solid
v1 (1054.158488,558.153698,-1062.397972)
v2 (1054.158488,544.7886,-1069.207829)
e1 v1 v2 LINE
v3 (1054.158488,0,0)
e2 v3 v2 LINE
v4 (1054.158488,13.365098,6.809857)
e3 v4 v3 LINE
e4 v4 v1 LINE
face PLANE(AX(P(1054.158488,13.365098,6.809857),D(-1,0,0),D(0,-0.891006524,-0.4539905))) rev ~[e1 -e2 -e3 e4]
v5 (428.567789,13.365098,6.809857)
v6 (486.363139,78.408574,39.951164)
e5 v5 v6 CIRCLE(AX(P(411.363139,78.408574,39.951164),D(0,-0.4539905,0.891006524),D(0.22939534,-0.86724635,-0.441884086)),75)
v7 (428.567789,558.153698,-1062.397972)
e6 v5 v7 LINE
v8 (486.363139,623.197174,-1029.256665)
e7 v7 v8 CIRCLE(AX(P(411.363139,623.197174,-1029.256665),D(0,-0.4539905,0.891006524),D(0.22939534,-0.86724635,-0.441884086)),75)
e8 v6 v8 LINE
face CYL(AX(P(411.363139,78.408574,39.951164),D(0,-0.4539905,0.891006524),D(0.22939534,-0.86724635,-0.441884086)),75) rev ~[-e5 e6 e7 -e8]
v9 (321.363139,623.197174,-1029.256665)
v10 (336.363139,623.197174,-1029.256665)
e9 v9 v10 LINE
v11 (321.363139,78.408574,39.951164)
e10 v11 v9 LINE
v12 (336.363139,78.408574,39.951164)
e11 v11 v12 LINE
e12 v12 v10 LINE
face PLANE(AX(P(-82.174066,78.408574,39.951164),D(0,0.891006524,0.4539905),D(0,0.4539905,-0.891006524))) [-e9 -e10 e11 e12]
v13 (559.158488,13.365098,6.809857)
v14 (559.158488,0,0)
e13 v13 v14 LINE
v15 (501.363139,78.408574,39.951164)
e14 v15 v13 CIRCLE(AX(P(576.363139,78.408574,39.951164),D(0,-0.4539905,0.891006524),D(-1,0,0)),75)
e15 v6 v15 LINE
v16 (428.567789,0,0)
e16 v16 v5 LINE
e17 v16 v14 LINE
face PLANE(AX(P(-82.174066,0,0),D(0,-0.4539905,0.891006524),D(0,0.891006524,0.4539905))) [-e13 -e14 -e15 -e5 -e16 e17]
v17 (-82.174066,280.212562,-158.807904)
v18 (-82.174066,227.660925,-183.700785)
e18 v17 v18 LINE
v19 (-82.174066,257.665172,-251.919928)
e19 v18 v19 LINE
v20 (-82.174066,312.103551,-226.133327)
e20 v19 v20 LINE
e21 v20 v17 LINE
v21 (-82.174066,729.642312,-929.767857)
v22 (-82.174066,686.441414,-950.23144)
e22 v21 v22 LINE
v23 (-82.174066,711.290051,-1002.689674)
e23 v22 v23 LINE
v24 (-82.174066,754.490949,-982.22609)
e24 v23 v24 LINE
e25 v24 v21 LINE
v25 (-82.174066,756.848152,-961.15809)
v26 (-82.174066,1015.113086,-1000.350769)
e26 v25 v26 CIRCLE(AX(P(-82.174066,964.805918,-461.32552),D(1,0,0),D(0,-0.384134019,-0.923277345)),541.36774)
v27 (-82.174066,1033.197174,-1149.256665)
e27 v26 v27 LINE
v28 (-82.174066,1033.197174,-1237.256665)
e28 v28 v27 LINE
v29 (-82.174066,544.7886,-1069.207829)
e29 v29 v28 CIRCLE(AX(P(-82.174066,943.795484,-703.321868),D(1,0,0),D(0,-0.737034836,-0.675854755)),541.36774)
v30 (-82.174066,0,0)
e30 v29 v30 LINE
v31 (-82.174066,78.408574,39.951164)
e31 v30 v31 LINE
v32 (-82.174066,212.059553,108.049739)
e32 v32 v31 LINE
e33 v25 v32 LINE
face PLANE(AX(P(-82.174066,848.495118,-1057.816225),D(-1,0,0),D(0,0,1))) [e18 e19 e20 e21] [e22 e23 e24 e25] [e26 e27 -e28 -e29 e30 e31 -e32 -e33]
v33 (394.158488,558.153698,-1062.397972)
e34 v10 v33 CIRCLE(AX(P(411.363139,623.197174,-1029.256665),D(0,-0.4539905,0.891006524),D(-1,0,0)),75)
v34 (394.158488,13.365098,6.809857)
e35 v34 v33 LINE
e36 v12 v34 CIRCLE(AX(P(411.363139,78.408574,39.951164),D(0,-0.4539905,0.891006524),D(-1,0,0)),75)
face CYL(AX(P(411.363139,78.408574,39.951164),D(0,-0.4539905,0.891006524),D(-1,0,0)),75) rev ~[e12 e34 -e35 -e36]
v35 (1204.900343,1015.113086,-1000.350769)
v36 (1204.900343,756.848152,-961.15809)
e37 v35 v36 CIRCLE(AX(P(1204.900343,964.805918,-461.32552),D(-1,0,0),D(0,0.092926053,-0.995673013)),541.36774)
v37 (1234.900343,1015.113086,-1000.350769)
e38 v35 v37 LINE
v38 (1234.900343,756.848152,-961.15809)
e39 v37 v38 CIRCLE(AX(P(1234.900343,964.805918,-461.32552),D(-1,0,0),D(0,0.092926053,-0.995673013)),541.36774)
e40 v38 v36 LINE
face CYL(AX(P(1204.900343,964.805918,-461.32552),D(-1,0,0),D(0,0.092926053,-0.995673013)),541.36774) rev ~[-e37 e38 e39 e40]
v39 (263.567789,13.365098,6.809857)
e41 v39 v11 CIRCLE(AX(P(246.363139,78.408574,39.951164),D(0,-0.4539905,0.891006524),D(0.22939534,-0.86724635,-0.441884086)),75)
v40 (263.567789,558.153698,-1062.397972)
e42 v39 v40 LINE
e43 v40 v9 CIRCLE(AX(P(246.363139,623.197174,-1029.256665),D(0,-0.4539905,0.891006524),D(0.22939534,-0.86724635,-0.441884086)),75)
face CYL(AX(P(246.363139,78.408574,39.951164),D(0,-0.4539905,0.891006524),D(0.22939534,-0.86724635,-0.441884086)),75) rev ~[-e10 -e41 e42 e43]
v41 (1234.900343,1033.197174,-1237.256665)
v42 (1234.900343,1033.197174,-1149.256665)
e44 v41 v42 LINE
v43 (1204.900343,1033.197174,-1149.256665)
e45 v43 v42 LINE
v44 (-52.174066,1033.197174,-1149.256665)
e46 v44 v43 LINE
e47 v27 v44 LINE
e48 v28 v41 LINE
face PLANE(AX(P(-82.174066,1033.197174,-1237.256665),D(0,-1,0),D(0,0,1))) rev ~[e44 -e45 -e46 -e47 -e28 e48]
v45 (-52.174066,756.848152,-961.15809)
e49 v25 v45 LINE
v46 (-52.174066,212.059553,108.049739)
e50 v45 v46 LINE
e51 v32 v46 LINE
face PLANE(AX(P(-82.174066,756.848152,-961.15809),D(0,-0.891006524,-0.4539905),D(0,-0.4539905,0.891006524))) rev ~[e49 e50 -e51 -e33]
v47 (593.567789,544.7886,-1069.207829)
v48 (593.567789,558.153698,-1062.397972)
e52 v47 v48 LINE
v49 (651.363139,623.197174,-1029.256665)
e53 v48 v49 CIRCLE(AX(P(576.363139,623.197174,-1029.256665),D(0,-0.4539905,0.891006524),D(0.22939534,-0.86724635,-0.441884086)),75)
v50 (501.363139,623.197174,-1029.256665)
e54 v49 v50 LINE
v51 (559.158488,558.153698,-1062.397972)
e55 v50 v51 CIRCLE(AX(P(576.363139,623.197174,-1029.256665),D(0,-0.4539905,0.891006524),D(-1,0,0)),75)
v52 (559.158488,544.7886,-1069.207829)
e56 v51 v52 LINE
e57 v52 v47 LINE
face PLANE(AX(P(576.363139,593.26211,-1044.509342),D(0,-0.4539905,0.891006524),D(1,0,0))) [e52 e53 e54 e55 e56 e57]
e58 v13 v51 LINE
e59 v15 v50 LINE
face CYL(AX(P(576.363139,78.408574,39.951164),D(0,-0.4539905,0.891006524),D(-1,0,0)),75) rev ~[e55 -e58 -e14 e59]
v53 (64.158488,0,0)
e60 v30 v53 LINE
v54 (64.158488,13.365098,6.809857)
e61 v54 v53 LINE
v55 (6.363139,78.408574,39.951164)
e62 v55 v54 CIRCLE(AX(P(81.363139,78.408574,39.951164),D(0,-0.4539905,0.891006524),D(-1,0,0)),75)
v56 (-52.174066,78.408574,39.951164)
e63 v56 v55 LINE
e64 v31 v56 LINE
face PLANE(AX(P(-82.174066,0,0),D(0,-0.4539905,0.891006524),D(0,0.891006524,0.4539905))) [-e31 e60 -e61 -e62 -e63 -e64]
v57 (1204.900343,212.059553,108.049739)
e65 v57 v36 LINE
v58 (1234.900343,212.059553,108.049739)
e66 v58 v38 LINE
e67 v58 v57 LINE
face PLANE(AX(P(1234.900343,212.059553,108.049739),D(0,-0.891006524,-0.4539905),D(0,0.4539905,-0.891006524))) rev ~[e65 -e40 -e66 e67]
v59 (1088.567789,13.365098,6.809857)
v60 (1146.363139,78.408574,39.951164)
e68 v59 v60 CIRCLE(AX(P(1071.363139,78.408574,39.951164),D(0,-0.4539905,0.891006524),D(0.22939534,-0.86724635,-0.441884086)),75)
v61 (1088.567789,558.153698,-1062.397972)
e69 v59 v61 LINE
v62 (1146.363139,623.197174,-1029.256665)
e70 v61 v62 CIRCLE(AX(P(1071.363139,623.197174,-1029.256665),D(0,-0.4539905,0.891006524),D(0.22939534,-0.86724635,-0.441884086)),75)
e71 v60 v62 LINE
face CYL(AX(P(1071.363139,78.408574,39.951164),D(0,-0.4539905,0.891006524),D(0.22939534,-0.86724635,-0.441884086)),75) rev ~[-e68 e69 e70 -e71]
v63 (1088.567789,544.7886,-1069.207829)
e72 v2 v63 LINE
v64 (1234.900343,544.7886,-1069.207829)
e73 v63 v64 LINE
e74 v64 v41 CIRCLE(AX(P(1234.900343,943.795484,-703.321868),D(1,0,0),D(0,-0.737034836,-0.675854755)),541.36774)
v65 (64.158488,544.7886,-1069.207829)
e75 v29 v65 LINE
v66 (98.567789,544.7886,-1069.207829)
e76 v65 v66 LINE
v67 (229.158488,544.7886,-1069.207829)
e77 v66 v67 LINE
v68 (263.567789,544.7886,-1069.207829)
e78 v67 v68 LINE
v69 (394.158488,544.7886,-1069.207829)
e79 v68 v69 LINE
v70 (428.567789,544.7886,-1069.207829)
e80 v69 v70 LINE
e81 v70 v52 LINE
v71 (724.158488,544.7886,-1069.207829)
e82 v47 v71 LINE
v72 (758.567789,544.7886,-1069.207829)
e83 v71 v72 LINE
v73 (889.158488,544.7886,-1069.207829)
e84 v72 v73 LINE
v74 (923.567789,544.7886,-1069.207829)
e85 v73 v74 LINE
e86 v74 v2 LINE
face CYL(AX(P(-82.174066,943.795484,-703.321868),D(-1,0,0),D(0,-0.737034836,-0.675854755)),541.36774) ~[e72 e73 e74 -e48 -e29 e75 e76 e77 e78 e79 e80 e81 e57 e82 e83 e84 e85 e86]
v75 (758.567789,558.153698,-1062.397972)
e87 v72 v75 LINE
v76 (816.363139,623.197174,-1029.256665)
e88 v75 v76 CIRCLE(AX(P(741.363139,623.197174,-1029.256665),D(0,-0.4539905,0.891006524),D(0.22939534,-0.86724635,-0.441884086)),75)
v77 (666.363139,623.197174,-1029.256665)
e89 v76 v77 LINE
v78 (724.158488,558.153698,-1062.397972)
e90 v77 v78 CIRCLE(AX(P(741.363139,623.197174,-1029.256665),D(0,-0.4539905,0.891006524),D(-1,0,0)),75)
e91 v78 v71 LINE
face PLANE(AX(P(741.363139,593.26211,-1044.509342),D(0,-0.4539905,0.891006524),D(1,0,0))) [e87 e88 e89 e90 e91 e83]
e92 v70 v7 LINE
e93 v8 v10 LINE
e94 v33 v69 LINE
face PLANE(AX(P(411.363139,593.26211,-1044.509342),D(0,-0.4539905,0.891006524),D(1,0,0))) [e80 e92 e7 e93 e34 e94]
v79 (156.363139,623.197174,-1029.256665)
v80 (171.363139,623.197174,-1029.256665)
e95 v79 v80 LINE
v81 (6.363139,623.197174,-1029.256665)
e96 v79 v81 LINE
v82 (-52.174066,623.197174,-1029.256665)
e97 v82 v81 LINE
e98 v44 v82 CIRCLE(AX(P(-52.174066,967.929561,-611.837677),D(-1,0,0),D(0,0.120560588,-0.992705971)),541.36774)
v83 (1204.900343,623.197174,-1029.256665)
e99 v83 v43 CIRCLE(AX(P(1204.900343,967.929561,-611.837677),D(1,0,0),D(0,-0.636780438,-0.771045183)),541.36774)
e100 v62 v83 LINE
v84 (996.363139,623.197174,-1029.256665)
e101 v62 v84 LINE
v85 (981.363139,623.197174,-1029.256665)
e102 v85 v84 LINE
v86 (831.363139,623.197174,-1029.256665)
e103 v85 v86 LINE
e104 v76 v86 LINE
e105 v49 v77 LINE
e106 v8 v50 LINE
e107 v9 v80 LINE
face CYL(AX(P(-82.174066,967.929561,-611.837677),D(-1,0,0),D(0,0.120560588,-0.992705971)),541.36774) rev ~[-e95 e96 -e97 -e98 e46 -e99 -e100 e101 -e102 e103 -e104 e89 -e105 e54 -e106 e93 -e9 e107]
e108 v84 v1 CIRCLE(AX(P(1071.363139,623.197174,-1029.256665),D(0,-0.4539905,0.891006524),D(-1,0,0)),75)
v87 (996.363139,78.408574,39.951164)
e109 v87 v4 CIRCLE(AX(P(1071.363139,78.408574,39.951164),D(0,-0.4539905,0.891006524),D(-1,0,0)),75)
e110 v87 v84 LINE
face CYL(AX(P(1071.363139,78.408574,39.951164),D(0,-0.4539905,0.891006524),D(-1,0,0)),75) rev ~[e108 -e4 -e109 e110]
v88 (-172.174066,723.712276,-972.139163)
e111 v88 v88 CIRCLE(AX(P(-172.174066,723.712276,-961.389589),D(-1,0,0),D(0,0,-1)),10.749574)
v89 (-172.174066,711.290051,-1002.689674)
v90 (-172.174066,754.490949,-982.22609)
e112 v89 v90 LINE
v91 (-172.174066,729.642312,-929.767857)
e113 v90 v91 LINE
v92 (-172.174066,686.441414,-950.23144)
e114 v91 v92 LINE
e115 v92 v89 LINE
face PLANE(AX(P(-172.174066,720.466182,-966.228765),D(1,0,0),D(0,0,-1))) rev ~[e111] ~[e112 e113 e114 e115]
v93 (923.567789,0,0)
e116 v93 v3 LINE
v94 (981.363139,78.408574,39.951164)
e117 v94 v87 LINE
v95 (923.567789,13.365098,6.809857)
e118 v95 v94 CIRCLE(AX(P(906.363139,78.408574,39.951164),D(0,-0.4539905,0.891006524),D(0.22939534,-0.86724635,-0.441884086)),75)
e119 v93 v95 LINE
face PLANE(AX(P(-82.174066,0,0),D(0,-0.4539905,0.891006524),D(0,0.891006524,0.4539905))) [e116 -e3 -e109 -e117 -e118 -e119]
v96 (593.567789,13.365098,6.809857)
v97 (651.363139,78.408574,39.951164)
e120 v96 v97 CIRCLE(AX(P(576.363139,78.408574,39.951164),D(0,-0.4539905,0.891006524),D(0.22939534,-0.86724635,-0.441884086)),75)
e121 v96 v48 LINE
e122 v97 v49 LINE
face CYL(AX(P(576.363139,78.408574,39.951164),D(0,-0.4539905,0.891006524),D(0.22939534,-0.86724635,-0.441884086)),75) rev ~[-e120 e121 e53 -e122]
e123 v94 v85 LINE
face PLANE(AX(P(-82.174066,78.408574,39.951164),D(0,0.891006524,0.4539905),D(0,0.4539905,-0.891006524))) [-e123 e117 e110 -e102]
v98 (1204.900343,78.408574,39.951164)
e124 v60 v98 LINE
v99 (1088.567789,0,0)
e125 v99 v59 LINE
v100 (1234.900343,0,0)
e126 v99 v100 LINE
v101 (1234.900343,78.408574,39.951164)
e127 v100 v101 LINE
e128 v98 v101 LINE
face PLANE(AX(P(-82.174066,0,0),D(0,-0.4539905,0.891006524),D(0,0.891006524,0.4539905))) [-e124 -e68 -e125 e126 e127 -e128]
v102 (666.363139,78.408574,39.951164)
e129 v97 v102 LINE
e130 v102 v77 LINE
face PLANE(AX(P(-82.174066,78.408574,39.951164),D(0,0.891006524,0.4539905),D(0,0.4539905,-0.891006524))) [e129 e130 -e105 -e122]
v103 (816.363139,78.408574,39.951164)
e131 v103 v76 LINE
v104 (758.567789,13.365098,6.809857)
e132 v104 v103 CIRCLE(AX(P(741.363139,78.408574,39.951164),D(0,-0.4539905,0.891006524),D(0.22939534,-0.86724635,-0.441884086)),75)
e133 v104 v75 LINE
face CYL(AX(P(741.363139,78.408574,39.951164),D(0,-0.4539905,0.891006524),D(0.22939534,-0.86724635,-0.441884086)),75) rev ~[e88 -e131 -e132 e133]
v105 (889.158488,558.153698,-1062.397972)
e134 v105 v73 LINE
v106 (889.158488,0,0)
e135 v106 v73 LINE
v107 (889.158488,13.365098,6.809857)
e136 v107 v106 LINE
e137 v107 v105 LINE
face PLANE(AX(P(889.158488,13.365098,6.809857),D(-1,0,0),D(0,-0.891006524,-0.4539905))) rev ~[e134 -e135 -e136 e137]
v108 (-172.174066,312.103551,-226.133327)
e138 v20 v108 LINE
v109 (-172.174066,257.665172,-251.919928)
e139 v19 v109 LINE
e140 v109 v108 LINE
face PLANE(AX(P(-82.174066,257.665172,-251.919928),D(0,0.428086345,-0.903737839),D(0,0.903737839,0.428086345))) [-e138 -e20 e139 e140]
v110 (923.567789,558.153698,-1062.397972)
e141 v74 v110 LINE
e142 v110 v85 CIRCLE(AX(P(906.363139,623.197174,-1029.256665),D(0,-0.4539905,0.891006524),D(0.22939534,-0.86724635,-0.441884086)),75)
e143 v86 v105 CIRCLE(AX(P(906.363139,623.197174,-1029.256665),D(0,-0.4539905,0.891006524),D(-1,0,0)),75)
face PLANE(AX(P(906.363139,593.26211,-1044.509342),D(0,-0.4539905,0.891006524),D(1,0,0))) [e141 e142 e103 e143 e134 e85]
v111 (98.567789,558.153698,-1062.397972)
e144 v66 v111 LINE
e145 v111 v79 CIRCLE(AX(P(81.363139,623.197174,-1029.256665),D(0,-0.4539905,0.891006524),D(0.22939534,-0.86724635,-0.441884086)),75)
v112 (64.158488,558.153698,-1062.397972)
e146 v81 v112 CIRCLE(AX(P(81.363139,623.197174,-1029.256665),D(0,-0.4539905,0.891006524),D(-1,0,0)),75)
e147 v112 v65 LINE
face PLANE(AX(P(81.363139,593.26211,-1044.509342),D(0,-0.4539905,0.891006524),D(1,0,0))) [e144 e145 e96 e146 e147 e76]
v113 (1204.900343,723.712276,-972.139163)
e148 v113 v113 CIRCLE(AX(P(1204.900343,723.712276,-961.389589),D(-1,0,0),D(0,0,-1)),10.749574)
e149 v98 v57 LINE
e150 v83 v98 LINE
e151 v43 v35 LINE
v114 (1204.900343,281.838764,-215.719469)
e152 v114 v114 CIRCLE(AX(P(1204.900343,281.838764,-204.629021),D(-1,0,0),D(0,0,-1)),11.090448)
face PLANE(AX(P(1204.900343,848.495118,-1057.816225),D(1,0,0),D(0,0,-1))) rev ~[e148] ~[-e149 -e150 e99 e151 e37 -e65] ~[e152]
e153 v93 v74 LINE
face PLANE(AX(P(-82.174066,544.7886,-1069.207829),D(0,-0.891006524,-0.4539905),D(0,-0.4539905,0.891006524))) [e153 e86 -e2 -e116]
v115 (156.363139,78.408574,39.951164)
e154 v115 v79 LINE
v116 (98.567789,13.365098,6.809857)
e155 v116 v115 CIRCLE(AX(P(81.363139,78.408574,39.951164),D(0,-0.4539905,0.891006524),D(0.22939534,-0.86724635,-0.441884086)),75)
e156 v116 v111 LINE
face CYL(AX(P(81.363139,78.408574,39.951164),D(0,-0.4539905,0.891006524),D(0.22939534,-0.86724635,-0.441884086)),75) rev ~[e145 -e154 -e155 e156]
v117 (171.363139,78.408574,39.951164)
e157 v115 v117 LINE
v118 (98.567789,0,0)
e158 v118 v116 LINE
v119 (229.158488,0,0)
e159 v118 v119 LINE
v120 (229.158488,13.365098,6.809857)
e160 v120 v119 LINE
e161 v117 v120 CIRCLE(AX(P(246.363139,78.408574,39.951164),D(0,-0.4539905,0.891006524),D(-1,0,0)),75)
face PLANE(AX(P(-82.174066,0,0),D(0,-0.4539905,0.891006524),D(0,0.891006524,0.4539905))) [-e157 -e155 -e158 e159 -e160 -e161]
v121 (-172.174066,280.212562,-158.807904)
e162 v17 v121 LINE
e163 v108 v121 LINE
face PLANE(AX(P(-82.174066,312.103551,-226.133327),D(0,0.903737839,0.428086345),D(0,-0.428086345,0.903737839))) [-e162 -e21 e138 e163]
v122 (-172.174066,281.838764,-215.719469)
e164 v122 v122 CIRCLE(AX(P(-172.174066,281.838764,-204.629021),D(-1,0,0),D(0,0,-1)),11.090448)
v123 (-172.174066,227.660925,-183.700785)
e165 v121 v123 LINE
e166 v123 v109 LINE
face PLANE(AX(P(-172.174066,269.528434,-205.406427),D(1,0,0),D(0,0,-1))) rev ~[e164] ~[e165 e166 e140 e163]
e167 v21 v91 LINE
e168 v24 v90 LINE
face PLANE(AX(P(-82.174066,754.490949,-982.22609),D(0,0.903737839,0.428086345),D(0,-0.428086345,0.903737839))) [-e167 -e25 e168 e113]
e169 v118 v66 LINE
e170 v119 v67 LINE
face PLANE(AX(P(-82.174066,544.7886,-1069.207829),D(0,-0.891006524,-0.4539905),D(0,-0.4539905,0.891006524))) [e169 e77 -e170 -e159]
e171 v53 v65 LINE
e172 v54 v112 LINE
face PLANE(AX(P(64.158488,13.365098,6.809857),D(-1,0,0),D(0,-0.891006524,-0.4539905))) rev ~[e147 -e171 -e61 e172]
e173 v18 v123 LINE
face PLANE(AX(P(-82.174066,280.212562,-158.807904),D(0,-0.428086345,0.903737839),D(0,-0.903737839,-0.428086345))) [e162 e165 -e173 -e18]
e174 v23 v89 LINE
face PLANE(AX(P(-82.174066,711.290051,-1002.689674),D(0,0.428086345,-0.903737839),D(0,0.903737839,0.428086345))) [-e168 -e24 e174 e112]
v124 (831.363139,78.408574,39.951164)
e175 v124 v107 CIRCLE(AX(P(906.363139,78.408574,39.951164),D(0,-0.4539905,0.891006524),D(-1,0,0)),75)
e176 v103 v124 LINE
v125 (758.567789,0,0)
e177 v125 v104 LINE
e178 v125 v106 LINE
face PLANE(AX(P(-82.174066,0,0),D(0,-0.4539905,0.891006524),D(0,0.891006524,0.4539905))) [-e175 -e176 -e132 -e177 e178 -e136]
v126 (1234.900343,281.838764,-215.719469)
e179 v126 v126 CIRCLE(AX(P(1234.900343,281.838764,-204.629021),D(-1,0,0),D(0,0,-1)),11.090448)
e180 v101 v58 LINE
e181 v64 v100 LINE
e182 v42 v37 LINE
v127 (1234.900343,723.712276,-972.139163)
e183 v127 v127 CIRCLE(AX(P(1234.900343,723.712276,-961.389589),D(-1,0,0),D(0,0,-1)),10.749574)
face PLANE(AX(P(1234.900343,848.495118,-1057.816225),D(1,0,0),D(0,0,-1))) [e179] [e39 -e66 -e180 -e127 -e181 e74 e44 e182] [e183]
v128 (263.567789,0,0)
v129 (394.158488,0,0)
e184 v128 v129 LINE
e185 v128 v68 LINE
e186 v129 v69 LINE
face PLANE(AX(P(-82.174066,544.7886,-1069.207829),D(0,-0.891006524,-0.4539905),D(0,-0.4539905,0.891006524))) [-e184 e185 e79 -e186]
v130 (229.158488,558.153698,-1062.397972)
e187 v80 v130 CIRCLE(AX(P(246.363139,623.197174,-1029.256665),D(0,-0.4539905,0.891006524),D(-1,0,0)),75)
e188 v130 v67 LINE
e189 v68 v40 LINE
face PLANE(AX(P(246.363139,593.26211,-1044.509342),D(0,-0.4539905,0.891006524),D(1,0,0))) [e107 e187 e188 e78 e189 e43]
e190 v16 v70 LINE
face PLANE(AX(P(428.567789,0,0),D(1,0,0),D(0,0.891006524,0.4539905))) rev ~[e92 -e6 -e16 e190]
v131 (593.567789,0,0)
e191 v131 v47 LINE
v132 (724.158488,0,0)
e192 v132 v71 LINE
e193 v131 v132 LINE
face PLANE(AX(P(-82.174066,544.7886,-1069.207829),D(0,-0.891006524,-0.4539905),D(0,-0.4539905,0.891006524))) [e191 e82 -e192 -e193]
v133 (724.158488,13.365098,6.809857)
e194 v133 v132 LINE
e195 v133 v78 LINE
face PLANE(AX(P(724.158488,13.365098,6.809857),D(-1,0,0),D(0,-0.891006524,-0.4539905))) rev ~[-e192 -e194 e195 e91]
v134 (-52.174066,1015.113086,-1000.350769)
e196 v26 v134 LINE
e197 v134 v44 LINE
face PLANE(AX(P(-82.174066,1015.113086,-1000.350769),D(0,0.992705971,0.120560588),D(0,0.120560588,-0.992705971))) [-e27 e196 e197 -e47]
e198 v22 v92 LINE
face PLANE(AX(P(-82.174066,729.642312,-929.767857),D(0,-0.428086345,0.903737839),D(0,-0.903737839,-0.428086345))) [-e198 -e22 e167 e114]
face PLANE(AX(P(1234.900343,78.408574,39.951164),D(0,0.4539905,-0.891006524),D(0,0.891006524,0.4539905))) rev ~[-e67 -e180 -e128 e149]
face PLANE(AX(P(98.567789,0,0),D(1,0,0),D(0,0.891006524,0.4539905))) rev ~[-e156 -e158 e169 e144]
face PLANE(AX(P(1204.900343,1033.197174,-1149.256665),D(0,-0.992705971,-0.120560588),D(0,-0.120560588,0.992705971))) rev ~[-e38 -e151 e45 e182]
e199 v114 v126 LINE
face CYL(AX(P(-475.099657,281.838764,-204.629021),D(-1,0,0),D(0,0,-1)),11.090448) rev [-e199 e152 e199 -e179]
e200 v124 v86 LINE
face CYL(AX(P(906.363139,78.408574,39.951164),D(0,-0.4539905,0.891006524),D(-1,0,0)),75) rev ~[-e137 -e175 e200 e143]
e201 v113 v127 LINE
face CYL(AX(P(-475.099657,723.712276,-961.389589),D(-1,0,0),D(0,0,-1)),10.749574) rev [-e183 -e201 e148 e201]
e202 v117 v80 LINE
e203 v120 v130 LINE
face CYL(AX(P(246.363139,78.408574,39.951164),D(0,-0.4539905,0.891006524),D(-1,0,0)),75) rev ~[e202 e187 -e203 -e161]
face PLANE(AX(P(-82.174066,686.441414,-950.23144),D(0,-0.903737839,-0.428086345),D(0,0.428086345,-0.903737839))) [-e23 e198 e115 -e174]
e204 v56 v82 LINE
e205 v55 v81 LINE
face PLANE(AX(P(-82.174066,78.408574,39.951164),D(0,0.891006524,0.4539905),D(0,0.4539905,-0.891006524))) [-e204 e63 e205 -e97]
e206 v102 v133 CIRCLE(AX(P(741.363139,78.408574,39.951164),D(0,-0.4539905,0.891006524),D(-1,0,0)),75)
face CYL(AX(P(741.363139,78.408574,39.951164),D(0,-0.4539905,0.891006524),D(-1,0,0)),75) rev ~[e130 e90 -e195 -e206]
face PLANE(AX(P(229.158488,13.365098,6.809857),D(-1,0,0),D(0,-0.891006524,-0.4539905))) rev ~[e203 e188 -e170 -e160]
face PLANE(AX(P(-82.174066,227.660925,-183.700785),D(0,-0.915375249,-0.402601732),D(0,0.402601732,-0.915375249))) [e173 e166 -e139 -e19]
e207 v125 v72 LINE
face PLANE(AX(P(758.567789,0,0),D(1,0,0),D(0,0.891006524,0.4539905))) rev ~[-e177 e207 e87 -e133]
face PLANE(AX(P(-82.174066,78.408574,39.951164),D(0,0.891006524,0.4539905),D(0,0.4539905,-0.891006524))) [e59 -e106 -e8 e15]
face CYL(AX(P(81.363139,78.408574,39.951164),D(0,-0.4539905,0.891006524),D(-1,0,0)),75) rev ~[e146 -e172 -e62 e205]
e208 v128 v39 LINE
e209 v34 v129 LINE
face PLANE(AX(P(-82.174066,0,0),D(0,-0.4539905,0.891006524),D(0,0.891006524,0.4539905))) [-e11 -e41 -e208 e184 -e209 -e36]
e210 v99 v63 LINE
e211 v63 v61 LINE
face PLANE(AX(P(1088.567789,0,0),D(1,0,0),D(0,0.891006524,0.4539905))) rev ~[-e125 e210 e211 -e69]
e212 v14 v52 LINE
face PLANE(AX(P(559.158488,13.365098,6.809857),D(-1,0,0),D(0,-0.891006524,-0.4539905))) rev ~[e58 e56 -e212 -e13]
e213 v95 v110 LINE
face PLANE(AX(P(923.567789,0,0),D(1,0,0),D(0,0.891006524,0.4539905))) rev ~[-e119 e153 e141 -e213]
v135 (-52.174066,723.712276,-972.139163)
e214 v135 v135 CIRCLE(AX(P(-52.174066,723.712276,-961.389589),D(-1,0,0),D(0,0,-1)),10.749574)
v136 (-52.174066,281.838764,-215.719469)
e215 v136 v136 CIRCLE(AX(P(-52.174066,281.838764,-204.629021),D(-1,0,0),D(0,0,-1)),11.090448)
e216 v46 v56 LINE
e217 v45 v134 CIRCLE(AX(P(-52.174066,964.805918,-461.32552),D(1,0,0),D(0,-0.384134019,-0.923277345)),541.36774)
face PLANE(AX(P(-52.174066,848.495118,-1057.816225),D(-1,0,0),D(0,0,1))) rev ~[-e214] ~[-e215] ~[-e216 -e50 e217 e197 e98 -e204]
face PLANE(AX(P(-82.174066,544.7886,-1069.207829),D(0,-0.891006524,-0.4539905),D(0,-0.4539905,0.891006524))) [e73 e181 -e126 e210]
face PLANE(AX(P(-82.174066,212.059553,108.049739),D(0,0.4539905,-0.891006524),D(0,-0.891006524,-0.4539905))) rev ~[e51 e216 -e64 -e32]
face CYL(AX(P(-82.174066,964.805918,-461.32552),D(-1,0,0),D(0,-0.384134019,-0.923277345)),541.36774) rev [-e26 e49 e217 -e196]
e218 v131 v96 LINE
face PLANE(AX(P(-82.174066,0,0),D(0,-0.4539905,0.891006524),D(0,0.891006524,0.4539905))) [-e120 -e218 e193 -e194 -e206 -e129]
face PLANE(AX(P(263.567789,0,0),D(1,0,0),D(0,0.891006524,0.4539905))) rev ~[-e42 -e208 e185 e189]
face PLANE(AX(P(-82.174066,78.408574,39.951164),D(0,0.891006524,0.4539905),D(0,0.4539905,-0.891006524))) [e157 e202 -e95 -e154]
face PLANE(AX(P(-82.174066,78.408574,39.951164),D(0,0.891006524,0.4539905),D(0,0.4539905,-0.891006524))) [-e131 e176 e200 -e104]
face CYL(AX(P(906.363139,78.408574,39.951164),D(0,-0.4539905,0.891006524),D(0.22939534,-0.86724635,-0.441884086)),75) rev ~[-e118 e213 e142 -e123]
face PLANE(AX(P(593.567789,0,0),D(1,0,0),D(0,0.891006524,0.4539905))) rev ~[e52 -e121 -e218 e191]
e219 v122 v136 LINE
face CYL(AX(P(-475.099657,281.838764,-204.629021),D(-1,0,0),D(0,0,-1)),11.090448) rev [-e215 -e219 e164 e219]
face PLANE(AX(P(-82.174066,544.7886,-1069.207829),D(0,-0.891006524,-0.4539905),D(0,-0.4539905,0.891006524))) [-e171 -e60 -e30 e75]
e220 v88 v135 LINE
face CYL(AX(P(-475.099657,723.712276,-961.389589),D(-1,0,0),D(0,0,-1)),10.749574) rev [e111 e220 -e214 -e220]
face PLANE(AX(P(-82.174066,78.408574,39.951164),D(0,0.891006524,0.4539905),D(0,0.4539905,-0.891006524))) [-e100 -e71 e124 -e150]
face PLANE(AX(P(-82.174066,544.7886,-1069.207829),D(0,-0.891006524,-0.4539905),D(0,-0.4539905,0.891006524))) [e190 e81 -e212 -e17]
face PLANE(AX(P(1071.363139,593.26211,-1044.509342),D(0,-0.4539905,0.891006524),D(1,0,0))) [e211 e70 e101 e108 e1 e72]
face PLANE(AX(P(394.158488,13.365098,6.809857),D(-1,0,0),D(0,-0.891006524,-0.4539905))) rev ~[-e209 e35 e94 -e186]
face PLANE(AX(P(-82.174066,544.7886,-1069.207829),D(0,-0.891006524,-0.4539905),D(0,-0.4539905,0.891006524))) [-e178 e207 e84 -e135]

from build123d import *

# Parameters (mm, degrees)
BOSS_EXTRUDE1_DEPTH      = 1234.900343145
BOSS_EXTRUDE1_DEPTH_BACK = 82.174065831
CUT_EXTRUDE1_DEPTH       = 1200
BOSS_EXTRUDE2_DEPTH      = 30
BOSS_EXTRUDE3_DEPTH      = 30
BOSS_EXTRUDE4_START      = -30
BOSS_EXTRUDE4_DEPTH      = 30
BOSS_EXTRUDE5_DEPTH      = 30
BOSS_EXTRUDE6_DEPTH      = 90
CUT_EXTRUDE2_DEPTH       = 1710
CUT_EXTRUDE2_DEPTH_BACK  = 1710
SKETCH12_R               = 11.090448241
SKETCH12_R_2             = 10.749574141


with BuildPart() as part:
    # Sketch1 → Boss-Extrude1 (new, two sides: drawn at the far end of the back side and taken through both)
    with BuildSketch(Plane(origin=(0, 0, 0), x_dir=(0, 0, -1), z_dir=(1, 0, 0)).offset(-BOSS_EXTRUDE1_DEPTH_BACK)):
        with BuildLine():
            Line((-39.951163977, 78.408574129), (0, 0))
            Line((0, 0), (1069.207829026, 544.788599687))
            ThreePointArc((1069.207829026, 544.788599687), (1215.235027559, 767.659323729), (1237.256665049, 1033.197173816))
            Line((1237.256665049, 1033.197173816), (1149.256665049, 1033.197173816))
            ThreePointArc((1149.256665049, 1033.197173816), (1131.408548141, 815.860037301), (1029.256665049, 623.197173816))
            Line((1029.256665049, 623.197173816), (-39.951163977, 78.408574129))
        make_face()
    extrude(amount=BOSS_EXTRUDE1_DEPTH + BOSS_EXTRUDE1_DEPTH_BACK)

    # Sketch2 → Cut-Extrude1 (cut)
    with BuildSketch(Plane(origin=(0, 0, 0), x_dir=(1, 0, 0), z_dir=(0, -0.45399049973954786, 0.8910065241883673))):
        with BuildLine():
            Line((651.363138657, 88), (501.363138657, 88))
            ThreePointArc((501.363138657, 88), (517.561145536, 41.445455593), (559.158488123, 15))
            Line((559.158488123, 15), (559.158488123, 0))
            Line((559.158488123, 0), (593.567789191, 0))
            Line((593.567789191, 0), (593.567789191, 15))
            ThreePointArc((593.567789191, 15), (635.165131778, 41.445455593), (651.363138657, 88))
        make_face()
        with BuildLine():
            ThreePointArc((428.567789191, 15), (470.165131778, 41.445455593), (486.363138657, 88))
            Line((486.363138657, 88), (336.363138657, 88))
            ThreePointArc((336.363138657, 88), (352.561145536, 41.445455593), (394.158488123, 15))
            Line((394.158488123, 15), (394.158488123, 0))
            Line((394.158488123, 0), (428.567789191, 0))
            Line((428.567789191, 0), (428.567789191, 15))
        make_face()
        with BuildLine():
            Line((816.363138657, 88), (666.363138657, 88))
            ThreePointArc((666.363138657, 88), (682.561145536, 41.445455593), (724.158488123, 15))
            Line((724.158488123, 15), (724.158488123, 0))
            Line((724.158488123, 0), (758.567789191, 0))
            Line((758.567789191, 0), (758.567789191, 15))
            ThreePointArc((758.567789191, 15), (800.165131778, 41.445455593), (816.363138657, 88))
        make_face()
        with BuildLine():
            ThreePointArc((263.567789191, 15), (305.165131778, 41.445455593), (321.363138657, 88))
            Line((321.363138657, 88), (171.363138657, 88))
            ThreePointArc((171.363138657, 88), (187.561145536, 41.445455593), (229.158488123, 15))
            Line((229.158488123, 15), (229.158488123, 0))
            Line((229.158488123, 0), (263.567789191, 0))
            Line((263.567789191, 0), (263.567789191, 15))
        make_face()
        with BuildLine():
            Line((981.363138657, 88), (831.363138657, 88))
            ThreePointArc((831.363138657, 88), (847.561145536, 41.445455593), (889.158488123, 15))
            Line((889.158488123, 15), (889.158488123, 0))
            Line((889.158488123, 0), (923.567789191, 0))
            Line((923.567789191, 0), (923.567789191, 15))
            ThreePointArc((923.567789191, 15), (965.165131778, 41.445455593), (981.363138657, 88))
        make_face()
        with BuildLine():
            ThreePointArc((98.567789191, 15), (140.165131778, 41.445455593), (156.363138657, 88))
            Line((156.363138657, 88), (6.363138657, 88))
            ThreePointArc((6.363138657, 88), (22.561145536, 41.445455593), (64.158488123, 15))
            Line((64.158488123, 15), (64.158488123, 0))
            Line((64.158488123, 0), (98.567789191, 0))
            Line((98.567789191, 0), (98.567789191, 15))
        make_face()
        with BuildLine():
            Line((1146.363138657, 88), (996.363138657, 88))
            ThreePointArc((996.363138657, 88), (1012.561145536, 41.445455593), (1054.158488123, 15))
            Line((1054.158488123, 15), (1054.158488123, 0))
            Line((1054.158488123, 0), (1088.567789191, 0))
            Line((1088.567789191, 0), (1088.567789191, 15))
            ThreePointArc((1088.567789191, 15), (1130.165131778, 41.445455593), (1146.363138657, 88))
        make_face()
    extrude(amount=-CUT_EXTRUDE1_DEPTH, mode=Mode.SUBTRACT)

    # Sketch3 → Boss-Extrude2 (add)
    with BuildSketch(Plane(origin=(1234.900343145, 0, 0), x_dir=(0, 0, -1), z_dir=(1, 0, 0))):
        Polygon((-39.951163977, 78.408574129), (-108.049738938, 212.059552757), (961.158090088, 756.848152444), (1029.256665049, 623.197173816), align=None)
    extrude(amount=-BOSS_EXTRUDE2_DEPTH)

    # Sketch6 → Boss-Extrude3 (add)
    with BuildSketch(Plane.ZY.offset(82.174065831)):
        Polygon((-1029.256665049, 623.197173816), (-961.158090088, 756.848152444), (108.049738938, 212.059552757), (39.951163977, 78.408574129), align=None)
    extrude(amount=-BOSS_EXTRUDE3_DEPTH)

    # Sketch9 → Boss-Extrude4 (add)
    with BuildSketch(Plane(origin=(1234.900343145, 0, 0), x_dir=(0, 0, -1), z_dir=(1, 0, 0)).offset(BOSS_EXTRUDE4_START)):
        with BuildLine():
            Line((1149.256665049, 1033.197173816), (1000.350769421, 1015.113085582))
            ThreePointArc((1000.350769421, 1015.113085582), (996.565266489, 883.581264805), (961.158090088, 756.848152444))
            Line((961.158090088, 756.848152444), (1029.256665049, 623.197173816))
            ThreePointArc((1029.256665049, 623.197173816), (1131.408548141, 815.860037301), (1149.256665049, 1033.197173816))
        make_face()
    extrude(amount=BOSS_EXTRUDE4_DEPTH)

    # Sketch10 → Boss-Extrude5 (add)
    with BuildSketch(Plane.ZY.offset(82.174065831)):
        with BuildLine():
            Line((-1029.256665049, 623.197173816), (-961.158090088, 756.848152444))
            ThreePointArc((-961.158090088, 756.848152444), (-996.565266489, 883.581264805), (-1000.350769421, 1015.113085582))
            Line((-1000.350769421, 1015.113085582), (-1149.256665049, 1033.197173816))
            ThreePointArc((-1149.256665049, 1033.197173816), (-1131.408548141, 815.860037301), (-1029.256665049, 623.197173816))
        make_face()
    extrude(amount=-BOSS_EXTRUDE5_DEPTH)

    # Sketch11 → Boss-Extrude6 (add)
    with BuildSketch(Plane.ZY.offset(82.174065831)):
        Polygon((-982.226090398, 754.490949456), (-929.767856808, 729.642312493), (-950.23144019, 686.441414242), (-1002.68967378, 711.290051206), align=None)
        Polygon((-226.133327046, 312.103551466), (-158.807904246, 280.212561719), (-183.700784796, 227.660925002), (-251.919927814, 257.665172066), align=None)
    extrude(amount=BOSS_EXTRUDE6_DEPTH)

    # Sketch12 → Cut-Extrude2 (cut, two sides: drawn at the far end of the back side and taken through both)
    with BuildSketch(Plane(origin=(1234.900343145, 0, 0), x_dir=(0, 0, -1), z_dir=(1, 0, 0)).offset(-CUT_EXTRUDE2_DEPTH_BACK)):
        with Locations((204.62902054, 281.838763818)):
            Circle(SKETCH12_R)
        with Locations((961.389588636, 723.712275526)):
            Circle(SKETCH12_R_2)
    extrude(amount=CUT_EXTRUDE2_DEPTH + CUT_EXTRUDE2_DEPTH_BACK, mode=Mode.SUBTRACT)


solid = part.part
